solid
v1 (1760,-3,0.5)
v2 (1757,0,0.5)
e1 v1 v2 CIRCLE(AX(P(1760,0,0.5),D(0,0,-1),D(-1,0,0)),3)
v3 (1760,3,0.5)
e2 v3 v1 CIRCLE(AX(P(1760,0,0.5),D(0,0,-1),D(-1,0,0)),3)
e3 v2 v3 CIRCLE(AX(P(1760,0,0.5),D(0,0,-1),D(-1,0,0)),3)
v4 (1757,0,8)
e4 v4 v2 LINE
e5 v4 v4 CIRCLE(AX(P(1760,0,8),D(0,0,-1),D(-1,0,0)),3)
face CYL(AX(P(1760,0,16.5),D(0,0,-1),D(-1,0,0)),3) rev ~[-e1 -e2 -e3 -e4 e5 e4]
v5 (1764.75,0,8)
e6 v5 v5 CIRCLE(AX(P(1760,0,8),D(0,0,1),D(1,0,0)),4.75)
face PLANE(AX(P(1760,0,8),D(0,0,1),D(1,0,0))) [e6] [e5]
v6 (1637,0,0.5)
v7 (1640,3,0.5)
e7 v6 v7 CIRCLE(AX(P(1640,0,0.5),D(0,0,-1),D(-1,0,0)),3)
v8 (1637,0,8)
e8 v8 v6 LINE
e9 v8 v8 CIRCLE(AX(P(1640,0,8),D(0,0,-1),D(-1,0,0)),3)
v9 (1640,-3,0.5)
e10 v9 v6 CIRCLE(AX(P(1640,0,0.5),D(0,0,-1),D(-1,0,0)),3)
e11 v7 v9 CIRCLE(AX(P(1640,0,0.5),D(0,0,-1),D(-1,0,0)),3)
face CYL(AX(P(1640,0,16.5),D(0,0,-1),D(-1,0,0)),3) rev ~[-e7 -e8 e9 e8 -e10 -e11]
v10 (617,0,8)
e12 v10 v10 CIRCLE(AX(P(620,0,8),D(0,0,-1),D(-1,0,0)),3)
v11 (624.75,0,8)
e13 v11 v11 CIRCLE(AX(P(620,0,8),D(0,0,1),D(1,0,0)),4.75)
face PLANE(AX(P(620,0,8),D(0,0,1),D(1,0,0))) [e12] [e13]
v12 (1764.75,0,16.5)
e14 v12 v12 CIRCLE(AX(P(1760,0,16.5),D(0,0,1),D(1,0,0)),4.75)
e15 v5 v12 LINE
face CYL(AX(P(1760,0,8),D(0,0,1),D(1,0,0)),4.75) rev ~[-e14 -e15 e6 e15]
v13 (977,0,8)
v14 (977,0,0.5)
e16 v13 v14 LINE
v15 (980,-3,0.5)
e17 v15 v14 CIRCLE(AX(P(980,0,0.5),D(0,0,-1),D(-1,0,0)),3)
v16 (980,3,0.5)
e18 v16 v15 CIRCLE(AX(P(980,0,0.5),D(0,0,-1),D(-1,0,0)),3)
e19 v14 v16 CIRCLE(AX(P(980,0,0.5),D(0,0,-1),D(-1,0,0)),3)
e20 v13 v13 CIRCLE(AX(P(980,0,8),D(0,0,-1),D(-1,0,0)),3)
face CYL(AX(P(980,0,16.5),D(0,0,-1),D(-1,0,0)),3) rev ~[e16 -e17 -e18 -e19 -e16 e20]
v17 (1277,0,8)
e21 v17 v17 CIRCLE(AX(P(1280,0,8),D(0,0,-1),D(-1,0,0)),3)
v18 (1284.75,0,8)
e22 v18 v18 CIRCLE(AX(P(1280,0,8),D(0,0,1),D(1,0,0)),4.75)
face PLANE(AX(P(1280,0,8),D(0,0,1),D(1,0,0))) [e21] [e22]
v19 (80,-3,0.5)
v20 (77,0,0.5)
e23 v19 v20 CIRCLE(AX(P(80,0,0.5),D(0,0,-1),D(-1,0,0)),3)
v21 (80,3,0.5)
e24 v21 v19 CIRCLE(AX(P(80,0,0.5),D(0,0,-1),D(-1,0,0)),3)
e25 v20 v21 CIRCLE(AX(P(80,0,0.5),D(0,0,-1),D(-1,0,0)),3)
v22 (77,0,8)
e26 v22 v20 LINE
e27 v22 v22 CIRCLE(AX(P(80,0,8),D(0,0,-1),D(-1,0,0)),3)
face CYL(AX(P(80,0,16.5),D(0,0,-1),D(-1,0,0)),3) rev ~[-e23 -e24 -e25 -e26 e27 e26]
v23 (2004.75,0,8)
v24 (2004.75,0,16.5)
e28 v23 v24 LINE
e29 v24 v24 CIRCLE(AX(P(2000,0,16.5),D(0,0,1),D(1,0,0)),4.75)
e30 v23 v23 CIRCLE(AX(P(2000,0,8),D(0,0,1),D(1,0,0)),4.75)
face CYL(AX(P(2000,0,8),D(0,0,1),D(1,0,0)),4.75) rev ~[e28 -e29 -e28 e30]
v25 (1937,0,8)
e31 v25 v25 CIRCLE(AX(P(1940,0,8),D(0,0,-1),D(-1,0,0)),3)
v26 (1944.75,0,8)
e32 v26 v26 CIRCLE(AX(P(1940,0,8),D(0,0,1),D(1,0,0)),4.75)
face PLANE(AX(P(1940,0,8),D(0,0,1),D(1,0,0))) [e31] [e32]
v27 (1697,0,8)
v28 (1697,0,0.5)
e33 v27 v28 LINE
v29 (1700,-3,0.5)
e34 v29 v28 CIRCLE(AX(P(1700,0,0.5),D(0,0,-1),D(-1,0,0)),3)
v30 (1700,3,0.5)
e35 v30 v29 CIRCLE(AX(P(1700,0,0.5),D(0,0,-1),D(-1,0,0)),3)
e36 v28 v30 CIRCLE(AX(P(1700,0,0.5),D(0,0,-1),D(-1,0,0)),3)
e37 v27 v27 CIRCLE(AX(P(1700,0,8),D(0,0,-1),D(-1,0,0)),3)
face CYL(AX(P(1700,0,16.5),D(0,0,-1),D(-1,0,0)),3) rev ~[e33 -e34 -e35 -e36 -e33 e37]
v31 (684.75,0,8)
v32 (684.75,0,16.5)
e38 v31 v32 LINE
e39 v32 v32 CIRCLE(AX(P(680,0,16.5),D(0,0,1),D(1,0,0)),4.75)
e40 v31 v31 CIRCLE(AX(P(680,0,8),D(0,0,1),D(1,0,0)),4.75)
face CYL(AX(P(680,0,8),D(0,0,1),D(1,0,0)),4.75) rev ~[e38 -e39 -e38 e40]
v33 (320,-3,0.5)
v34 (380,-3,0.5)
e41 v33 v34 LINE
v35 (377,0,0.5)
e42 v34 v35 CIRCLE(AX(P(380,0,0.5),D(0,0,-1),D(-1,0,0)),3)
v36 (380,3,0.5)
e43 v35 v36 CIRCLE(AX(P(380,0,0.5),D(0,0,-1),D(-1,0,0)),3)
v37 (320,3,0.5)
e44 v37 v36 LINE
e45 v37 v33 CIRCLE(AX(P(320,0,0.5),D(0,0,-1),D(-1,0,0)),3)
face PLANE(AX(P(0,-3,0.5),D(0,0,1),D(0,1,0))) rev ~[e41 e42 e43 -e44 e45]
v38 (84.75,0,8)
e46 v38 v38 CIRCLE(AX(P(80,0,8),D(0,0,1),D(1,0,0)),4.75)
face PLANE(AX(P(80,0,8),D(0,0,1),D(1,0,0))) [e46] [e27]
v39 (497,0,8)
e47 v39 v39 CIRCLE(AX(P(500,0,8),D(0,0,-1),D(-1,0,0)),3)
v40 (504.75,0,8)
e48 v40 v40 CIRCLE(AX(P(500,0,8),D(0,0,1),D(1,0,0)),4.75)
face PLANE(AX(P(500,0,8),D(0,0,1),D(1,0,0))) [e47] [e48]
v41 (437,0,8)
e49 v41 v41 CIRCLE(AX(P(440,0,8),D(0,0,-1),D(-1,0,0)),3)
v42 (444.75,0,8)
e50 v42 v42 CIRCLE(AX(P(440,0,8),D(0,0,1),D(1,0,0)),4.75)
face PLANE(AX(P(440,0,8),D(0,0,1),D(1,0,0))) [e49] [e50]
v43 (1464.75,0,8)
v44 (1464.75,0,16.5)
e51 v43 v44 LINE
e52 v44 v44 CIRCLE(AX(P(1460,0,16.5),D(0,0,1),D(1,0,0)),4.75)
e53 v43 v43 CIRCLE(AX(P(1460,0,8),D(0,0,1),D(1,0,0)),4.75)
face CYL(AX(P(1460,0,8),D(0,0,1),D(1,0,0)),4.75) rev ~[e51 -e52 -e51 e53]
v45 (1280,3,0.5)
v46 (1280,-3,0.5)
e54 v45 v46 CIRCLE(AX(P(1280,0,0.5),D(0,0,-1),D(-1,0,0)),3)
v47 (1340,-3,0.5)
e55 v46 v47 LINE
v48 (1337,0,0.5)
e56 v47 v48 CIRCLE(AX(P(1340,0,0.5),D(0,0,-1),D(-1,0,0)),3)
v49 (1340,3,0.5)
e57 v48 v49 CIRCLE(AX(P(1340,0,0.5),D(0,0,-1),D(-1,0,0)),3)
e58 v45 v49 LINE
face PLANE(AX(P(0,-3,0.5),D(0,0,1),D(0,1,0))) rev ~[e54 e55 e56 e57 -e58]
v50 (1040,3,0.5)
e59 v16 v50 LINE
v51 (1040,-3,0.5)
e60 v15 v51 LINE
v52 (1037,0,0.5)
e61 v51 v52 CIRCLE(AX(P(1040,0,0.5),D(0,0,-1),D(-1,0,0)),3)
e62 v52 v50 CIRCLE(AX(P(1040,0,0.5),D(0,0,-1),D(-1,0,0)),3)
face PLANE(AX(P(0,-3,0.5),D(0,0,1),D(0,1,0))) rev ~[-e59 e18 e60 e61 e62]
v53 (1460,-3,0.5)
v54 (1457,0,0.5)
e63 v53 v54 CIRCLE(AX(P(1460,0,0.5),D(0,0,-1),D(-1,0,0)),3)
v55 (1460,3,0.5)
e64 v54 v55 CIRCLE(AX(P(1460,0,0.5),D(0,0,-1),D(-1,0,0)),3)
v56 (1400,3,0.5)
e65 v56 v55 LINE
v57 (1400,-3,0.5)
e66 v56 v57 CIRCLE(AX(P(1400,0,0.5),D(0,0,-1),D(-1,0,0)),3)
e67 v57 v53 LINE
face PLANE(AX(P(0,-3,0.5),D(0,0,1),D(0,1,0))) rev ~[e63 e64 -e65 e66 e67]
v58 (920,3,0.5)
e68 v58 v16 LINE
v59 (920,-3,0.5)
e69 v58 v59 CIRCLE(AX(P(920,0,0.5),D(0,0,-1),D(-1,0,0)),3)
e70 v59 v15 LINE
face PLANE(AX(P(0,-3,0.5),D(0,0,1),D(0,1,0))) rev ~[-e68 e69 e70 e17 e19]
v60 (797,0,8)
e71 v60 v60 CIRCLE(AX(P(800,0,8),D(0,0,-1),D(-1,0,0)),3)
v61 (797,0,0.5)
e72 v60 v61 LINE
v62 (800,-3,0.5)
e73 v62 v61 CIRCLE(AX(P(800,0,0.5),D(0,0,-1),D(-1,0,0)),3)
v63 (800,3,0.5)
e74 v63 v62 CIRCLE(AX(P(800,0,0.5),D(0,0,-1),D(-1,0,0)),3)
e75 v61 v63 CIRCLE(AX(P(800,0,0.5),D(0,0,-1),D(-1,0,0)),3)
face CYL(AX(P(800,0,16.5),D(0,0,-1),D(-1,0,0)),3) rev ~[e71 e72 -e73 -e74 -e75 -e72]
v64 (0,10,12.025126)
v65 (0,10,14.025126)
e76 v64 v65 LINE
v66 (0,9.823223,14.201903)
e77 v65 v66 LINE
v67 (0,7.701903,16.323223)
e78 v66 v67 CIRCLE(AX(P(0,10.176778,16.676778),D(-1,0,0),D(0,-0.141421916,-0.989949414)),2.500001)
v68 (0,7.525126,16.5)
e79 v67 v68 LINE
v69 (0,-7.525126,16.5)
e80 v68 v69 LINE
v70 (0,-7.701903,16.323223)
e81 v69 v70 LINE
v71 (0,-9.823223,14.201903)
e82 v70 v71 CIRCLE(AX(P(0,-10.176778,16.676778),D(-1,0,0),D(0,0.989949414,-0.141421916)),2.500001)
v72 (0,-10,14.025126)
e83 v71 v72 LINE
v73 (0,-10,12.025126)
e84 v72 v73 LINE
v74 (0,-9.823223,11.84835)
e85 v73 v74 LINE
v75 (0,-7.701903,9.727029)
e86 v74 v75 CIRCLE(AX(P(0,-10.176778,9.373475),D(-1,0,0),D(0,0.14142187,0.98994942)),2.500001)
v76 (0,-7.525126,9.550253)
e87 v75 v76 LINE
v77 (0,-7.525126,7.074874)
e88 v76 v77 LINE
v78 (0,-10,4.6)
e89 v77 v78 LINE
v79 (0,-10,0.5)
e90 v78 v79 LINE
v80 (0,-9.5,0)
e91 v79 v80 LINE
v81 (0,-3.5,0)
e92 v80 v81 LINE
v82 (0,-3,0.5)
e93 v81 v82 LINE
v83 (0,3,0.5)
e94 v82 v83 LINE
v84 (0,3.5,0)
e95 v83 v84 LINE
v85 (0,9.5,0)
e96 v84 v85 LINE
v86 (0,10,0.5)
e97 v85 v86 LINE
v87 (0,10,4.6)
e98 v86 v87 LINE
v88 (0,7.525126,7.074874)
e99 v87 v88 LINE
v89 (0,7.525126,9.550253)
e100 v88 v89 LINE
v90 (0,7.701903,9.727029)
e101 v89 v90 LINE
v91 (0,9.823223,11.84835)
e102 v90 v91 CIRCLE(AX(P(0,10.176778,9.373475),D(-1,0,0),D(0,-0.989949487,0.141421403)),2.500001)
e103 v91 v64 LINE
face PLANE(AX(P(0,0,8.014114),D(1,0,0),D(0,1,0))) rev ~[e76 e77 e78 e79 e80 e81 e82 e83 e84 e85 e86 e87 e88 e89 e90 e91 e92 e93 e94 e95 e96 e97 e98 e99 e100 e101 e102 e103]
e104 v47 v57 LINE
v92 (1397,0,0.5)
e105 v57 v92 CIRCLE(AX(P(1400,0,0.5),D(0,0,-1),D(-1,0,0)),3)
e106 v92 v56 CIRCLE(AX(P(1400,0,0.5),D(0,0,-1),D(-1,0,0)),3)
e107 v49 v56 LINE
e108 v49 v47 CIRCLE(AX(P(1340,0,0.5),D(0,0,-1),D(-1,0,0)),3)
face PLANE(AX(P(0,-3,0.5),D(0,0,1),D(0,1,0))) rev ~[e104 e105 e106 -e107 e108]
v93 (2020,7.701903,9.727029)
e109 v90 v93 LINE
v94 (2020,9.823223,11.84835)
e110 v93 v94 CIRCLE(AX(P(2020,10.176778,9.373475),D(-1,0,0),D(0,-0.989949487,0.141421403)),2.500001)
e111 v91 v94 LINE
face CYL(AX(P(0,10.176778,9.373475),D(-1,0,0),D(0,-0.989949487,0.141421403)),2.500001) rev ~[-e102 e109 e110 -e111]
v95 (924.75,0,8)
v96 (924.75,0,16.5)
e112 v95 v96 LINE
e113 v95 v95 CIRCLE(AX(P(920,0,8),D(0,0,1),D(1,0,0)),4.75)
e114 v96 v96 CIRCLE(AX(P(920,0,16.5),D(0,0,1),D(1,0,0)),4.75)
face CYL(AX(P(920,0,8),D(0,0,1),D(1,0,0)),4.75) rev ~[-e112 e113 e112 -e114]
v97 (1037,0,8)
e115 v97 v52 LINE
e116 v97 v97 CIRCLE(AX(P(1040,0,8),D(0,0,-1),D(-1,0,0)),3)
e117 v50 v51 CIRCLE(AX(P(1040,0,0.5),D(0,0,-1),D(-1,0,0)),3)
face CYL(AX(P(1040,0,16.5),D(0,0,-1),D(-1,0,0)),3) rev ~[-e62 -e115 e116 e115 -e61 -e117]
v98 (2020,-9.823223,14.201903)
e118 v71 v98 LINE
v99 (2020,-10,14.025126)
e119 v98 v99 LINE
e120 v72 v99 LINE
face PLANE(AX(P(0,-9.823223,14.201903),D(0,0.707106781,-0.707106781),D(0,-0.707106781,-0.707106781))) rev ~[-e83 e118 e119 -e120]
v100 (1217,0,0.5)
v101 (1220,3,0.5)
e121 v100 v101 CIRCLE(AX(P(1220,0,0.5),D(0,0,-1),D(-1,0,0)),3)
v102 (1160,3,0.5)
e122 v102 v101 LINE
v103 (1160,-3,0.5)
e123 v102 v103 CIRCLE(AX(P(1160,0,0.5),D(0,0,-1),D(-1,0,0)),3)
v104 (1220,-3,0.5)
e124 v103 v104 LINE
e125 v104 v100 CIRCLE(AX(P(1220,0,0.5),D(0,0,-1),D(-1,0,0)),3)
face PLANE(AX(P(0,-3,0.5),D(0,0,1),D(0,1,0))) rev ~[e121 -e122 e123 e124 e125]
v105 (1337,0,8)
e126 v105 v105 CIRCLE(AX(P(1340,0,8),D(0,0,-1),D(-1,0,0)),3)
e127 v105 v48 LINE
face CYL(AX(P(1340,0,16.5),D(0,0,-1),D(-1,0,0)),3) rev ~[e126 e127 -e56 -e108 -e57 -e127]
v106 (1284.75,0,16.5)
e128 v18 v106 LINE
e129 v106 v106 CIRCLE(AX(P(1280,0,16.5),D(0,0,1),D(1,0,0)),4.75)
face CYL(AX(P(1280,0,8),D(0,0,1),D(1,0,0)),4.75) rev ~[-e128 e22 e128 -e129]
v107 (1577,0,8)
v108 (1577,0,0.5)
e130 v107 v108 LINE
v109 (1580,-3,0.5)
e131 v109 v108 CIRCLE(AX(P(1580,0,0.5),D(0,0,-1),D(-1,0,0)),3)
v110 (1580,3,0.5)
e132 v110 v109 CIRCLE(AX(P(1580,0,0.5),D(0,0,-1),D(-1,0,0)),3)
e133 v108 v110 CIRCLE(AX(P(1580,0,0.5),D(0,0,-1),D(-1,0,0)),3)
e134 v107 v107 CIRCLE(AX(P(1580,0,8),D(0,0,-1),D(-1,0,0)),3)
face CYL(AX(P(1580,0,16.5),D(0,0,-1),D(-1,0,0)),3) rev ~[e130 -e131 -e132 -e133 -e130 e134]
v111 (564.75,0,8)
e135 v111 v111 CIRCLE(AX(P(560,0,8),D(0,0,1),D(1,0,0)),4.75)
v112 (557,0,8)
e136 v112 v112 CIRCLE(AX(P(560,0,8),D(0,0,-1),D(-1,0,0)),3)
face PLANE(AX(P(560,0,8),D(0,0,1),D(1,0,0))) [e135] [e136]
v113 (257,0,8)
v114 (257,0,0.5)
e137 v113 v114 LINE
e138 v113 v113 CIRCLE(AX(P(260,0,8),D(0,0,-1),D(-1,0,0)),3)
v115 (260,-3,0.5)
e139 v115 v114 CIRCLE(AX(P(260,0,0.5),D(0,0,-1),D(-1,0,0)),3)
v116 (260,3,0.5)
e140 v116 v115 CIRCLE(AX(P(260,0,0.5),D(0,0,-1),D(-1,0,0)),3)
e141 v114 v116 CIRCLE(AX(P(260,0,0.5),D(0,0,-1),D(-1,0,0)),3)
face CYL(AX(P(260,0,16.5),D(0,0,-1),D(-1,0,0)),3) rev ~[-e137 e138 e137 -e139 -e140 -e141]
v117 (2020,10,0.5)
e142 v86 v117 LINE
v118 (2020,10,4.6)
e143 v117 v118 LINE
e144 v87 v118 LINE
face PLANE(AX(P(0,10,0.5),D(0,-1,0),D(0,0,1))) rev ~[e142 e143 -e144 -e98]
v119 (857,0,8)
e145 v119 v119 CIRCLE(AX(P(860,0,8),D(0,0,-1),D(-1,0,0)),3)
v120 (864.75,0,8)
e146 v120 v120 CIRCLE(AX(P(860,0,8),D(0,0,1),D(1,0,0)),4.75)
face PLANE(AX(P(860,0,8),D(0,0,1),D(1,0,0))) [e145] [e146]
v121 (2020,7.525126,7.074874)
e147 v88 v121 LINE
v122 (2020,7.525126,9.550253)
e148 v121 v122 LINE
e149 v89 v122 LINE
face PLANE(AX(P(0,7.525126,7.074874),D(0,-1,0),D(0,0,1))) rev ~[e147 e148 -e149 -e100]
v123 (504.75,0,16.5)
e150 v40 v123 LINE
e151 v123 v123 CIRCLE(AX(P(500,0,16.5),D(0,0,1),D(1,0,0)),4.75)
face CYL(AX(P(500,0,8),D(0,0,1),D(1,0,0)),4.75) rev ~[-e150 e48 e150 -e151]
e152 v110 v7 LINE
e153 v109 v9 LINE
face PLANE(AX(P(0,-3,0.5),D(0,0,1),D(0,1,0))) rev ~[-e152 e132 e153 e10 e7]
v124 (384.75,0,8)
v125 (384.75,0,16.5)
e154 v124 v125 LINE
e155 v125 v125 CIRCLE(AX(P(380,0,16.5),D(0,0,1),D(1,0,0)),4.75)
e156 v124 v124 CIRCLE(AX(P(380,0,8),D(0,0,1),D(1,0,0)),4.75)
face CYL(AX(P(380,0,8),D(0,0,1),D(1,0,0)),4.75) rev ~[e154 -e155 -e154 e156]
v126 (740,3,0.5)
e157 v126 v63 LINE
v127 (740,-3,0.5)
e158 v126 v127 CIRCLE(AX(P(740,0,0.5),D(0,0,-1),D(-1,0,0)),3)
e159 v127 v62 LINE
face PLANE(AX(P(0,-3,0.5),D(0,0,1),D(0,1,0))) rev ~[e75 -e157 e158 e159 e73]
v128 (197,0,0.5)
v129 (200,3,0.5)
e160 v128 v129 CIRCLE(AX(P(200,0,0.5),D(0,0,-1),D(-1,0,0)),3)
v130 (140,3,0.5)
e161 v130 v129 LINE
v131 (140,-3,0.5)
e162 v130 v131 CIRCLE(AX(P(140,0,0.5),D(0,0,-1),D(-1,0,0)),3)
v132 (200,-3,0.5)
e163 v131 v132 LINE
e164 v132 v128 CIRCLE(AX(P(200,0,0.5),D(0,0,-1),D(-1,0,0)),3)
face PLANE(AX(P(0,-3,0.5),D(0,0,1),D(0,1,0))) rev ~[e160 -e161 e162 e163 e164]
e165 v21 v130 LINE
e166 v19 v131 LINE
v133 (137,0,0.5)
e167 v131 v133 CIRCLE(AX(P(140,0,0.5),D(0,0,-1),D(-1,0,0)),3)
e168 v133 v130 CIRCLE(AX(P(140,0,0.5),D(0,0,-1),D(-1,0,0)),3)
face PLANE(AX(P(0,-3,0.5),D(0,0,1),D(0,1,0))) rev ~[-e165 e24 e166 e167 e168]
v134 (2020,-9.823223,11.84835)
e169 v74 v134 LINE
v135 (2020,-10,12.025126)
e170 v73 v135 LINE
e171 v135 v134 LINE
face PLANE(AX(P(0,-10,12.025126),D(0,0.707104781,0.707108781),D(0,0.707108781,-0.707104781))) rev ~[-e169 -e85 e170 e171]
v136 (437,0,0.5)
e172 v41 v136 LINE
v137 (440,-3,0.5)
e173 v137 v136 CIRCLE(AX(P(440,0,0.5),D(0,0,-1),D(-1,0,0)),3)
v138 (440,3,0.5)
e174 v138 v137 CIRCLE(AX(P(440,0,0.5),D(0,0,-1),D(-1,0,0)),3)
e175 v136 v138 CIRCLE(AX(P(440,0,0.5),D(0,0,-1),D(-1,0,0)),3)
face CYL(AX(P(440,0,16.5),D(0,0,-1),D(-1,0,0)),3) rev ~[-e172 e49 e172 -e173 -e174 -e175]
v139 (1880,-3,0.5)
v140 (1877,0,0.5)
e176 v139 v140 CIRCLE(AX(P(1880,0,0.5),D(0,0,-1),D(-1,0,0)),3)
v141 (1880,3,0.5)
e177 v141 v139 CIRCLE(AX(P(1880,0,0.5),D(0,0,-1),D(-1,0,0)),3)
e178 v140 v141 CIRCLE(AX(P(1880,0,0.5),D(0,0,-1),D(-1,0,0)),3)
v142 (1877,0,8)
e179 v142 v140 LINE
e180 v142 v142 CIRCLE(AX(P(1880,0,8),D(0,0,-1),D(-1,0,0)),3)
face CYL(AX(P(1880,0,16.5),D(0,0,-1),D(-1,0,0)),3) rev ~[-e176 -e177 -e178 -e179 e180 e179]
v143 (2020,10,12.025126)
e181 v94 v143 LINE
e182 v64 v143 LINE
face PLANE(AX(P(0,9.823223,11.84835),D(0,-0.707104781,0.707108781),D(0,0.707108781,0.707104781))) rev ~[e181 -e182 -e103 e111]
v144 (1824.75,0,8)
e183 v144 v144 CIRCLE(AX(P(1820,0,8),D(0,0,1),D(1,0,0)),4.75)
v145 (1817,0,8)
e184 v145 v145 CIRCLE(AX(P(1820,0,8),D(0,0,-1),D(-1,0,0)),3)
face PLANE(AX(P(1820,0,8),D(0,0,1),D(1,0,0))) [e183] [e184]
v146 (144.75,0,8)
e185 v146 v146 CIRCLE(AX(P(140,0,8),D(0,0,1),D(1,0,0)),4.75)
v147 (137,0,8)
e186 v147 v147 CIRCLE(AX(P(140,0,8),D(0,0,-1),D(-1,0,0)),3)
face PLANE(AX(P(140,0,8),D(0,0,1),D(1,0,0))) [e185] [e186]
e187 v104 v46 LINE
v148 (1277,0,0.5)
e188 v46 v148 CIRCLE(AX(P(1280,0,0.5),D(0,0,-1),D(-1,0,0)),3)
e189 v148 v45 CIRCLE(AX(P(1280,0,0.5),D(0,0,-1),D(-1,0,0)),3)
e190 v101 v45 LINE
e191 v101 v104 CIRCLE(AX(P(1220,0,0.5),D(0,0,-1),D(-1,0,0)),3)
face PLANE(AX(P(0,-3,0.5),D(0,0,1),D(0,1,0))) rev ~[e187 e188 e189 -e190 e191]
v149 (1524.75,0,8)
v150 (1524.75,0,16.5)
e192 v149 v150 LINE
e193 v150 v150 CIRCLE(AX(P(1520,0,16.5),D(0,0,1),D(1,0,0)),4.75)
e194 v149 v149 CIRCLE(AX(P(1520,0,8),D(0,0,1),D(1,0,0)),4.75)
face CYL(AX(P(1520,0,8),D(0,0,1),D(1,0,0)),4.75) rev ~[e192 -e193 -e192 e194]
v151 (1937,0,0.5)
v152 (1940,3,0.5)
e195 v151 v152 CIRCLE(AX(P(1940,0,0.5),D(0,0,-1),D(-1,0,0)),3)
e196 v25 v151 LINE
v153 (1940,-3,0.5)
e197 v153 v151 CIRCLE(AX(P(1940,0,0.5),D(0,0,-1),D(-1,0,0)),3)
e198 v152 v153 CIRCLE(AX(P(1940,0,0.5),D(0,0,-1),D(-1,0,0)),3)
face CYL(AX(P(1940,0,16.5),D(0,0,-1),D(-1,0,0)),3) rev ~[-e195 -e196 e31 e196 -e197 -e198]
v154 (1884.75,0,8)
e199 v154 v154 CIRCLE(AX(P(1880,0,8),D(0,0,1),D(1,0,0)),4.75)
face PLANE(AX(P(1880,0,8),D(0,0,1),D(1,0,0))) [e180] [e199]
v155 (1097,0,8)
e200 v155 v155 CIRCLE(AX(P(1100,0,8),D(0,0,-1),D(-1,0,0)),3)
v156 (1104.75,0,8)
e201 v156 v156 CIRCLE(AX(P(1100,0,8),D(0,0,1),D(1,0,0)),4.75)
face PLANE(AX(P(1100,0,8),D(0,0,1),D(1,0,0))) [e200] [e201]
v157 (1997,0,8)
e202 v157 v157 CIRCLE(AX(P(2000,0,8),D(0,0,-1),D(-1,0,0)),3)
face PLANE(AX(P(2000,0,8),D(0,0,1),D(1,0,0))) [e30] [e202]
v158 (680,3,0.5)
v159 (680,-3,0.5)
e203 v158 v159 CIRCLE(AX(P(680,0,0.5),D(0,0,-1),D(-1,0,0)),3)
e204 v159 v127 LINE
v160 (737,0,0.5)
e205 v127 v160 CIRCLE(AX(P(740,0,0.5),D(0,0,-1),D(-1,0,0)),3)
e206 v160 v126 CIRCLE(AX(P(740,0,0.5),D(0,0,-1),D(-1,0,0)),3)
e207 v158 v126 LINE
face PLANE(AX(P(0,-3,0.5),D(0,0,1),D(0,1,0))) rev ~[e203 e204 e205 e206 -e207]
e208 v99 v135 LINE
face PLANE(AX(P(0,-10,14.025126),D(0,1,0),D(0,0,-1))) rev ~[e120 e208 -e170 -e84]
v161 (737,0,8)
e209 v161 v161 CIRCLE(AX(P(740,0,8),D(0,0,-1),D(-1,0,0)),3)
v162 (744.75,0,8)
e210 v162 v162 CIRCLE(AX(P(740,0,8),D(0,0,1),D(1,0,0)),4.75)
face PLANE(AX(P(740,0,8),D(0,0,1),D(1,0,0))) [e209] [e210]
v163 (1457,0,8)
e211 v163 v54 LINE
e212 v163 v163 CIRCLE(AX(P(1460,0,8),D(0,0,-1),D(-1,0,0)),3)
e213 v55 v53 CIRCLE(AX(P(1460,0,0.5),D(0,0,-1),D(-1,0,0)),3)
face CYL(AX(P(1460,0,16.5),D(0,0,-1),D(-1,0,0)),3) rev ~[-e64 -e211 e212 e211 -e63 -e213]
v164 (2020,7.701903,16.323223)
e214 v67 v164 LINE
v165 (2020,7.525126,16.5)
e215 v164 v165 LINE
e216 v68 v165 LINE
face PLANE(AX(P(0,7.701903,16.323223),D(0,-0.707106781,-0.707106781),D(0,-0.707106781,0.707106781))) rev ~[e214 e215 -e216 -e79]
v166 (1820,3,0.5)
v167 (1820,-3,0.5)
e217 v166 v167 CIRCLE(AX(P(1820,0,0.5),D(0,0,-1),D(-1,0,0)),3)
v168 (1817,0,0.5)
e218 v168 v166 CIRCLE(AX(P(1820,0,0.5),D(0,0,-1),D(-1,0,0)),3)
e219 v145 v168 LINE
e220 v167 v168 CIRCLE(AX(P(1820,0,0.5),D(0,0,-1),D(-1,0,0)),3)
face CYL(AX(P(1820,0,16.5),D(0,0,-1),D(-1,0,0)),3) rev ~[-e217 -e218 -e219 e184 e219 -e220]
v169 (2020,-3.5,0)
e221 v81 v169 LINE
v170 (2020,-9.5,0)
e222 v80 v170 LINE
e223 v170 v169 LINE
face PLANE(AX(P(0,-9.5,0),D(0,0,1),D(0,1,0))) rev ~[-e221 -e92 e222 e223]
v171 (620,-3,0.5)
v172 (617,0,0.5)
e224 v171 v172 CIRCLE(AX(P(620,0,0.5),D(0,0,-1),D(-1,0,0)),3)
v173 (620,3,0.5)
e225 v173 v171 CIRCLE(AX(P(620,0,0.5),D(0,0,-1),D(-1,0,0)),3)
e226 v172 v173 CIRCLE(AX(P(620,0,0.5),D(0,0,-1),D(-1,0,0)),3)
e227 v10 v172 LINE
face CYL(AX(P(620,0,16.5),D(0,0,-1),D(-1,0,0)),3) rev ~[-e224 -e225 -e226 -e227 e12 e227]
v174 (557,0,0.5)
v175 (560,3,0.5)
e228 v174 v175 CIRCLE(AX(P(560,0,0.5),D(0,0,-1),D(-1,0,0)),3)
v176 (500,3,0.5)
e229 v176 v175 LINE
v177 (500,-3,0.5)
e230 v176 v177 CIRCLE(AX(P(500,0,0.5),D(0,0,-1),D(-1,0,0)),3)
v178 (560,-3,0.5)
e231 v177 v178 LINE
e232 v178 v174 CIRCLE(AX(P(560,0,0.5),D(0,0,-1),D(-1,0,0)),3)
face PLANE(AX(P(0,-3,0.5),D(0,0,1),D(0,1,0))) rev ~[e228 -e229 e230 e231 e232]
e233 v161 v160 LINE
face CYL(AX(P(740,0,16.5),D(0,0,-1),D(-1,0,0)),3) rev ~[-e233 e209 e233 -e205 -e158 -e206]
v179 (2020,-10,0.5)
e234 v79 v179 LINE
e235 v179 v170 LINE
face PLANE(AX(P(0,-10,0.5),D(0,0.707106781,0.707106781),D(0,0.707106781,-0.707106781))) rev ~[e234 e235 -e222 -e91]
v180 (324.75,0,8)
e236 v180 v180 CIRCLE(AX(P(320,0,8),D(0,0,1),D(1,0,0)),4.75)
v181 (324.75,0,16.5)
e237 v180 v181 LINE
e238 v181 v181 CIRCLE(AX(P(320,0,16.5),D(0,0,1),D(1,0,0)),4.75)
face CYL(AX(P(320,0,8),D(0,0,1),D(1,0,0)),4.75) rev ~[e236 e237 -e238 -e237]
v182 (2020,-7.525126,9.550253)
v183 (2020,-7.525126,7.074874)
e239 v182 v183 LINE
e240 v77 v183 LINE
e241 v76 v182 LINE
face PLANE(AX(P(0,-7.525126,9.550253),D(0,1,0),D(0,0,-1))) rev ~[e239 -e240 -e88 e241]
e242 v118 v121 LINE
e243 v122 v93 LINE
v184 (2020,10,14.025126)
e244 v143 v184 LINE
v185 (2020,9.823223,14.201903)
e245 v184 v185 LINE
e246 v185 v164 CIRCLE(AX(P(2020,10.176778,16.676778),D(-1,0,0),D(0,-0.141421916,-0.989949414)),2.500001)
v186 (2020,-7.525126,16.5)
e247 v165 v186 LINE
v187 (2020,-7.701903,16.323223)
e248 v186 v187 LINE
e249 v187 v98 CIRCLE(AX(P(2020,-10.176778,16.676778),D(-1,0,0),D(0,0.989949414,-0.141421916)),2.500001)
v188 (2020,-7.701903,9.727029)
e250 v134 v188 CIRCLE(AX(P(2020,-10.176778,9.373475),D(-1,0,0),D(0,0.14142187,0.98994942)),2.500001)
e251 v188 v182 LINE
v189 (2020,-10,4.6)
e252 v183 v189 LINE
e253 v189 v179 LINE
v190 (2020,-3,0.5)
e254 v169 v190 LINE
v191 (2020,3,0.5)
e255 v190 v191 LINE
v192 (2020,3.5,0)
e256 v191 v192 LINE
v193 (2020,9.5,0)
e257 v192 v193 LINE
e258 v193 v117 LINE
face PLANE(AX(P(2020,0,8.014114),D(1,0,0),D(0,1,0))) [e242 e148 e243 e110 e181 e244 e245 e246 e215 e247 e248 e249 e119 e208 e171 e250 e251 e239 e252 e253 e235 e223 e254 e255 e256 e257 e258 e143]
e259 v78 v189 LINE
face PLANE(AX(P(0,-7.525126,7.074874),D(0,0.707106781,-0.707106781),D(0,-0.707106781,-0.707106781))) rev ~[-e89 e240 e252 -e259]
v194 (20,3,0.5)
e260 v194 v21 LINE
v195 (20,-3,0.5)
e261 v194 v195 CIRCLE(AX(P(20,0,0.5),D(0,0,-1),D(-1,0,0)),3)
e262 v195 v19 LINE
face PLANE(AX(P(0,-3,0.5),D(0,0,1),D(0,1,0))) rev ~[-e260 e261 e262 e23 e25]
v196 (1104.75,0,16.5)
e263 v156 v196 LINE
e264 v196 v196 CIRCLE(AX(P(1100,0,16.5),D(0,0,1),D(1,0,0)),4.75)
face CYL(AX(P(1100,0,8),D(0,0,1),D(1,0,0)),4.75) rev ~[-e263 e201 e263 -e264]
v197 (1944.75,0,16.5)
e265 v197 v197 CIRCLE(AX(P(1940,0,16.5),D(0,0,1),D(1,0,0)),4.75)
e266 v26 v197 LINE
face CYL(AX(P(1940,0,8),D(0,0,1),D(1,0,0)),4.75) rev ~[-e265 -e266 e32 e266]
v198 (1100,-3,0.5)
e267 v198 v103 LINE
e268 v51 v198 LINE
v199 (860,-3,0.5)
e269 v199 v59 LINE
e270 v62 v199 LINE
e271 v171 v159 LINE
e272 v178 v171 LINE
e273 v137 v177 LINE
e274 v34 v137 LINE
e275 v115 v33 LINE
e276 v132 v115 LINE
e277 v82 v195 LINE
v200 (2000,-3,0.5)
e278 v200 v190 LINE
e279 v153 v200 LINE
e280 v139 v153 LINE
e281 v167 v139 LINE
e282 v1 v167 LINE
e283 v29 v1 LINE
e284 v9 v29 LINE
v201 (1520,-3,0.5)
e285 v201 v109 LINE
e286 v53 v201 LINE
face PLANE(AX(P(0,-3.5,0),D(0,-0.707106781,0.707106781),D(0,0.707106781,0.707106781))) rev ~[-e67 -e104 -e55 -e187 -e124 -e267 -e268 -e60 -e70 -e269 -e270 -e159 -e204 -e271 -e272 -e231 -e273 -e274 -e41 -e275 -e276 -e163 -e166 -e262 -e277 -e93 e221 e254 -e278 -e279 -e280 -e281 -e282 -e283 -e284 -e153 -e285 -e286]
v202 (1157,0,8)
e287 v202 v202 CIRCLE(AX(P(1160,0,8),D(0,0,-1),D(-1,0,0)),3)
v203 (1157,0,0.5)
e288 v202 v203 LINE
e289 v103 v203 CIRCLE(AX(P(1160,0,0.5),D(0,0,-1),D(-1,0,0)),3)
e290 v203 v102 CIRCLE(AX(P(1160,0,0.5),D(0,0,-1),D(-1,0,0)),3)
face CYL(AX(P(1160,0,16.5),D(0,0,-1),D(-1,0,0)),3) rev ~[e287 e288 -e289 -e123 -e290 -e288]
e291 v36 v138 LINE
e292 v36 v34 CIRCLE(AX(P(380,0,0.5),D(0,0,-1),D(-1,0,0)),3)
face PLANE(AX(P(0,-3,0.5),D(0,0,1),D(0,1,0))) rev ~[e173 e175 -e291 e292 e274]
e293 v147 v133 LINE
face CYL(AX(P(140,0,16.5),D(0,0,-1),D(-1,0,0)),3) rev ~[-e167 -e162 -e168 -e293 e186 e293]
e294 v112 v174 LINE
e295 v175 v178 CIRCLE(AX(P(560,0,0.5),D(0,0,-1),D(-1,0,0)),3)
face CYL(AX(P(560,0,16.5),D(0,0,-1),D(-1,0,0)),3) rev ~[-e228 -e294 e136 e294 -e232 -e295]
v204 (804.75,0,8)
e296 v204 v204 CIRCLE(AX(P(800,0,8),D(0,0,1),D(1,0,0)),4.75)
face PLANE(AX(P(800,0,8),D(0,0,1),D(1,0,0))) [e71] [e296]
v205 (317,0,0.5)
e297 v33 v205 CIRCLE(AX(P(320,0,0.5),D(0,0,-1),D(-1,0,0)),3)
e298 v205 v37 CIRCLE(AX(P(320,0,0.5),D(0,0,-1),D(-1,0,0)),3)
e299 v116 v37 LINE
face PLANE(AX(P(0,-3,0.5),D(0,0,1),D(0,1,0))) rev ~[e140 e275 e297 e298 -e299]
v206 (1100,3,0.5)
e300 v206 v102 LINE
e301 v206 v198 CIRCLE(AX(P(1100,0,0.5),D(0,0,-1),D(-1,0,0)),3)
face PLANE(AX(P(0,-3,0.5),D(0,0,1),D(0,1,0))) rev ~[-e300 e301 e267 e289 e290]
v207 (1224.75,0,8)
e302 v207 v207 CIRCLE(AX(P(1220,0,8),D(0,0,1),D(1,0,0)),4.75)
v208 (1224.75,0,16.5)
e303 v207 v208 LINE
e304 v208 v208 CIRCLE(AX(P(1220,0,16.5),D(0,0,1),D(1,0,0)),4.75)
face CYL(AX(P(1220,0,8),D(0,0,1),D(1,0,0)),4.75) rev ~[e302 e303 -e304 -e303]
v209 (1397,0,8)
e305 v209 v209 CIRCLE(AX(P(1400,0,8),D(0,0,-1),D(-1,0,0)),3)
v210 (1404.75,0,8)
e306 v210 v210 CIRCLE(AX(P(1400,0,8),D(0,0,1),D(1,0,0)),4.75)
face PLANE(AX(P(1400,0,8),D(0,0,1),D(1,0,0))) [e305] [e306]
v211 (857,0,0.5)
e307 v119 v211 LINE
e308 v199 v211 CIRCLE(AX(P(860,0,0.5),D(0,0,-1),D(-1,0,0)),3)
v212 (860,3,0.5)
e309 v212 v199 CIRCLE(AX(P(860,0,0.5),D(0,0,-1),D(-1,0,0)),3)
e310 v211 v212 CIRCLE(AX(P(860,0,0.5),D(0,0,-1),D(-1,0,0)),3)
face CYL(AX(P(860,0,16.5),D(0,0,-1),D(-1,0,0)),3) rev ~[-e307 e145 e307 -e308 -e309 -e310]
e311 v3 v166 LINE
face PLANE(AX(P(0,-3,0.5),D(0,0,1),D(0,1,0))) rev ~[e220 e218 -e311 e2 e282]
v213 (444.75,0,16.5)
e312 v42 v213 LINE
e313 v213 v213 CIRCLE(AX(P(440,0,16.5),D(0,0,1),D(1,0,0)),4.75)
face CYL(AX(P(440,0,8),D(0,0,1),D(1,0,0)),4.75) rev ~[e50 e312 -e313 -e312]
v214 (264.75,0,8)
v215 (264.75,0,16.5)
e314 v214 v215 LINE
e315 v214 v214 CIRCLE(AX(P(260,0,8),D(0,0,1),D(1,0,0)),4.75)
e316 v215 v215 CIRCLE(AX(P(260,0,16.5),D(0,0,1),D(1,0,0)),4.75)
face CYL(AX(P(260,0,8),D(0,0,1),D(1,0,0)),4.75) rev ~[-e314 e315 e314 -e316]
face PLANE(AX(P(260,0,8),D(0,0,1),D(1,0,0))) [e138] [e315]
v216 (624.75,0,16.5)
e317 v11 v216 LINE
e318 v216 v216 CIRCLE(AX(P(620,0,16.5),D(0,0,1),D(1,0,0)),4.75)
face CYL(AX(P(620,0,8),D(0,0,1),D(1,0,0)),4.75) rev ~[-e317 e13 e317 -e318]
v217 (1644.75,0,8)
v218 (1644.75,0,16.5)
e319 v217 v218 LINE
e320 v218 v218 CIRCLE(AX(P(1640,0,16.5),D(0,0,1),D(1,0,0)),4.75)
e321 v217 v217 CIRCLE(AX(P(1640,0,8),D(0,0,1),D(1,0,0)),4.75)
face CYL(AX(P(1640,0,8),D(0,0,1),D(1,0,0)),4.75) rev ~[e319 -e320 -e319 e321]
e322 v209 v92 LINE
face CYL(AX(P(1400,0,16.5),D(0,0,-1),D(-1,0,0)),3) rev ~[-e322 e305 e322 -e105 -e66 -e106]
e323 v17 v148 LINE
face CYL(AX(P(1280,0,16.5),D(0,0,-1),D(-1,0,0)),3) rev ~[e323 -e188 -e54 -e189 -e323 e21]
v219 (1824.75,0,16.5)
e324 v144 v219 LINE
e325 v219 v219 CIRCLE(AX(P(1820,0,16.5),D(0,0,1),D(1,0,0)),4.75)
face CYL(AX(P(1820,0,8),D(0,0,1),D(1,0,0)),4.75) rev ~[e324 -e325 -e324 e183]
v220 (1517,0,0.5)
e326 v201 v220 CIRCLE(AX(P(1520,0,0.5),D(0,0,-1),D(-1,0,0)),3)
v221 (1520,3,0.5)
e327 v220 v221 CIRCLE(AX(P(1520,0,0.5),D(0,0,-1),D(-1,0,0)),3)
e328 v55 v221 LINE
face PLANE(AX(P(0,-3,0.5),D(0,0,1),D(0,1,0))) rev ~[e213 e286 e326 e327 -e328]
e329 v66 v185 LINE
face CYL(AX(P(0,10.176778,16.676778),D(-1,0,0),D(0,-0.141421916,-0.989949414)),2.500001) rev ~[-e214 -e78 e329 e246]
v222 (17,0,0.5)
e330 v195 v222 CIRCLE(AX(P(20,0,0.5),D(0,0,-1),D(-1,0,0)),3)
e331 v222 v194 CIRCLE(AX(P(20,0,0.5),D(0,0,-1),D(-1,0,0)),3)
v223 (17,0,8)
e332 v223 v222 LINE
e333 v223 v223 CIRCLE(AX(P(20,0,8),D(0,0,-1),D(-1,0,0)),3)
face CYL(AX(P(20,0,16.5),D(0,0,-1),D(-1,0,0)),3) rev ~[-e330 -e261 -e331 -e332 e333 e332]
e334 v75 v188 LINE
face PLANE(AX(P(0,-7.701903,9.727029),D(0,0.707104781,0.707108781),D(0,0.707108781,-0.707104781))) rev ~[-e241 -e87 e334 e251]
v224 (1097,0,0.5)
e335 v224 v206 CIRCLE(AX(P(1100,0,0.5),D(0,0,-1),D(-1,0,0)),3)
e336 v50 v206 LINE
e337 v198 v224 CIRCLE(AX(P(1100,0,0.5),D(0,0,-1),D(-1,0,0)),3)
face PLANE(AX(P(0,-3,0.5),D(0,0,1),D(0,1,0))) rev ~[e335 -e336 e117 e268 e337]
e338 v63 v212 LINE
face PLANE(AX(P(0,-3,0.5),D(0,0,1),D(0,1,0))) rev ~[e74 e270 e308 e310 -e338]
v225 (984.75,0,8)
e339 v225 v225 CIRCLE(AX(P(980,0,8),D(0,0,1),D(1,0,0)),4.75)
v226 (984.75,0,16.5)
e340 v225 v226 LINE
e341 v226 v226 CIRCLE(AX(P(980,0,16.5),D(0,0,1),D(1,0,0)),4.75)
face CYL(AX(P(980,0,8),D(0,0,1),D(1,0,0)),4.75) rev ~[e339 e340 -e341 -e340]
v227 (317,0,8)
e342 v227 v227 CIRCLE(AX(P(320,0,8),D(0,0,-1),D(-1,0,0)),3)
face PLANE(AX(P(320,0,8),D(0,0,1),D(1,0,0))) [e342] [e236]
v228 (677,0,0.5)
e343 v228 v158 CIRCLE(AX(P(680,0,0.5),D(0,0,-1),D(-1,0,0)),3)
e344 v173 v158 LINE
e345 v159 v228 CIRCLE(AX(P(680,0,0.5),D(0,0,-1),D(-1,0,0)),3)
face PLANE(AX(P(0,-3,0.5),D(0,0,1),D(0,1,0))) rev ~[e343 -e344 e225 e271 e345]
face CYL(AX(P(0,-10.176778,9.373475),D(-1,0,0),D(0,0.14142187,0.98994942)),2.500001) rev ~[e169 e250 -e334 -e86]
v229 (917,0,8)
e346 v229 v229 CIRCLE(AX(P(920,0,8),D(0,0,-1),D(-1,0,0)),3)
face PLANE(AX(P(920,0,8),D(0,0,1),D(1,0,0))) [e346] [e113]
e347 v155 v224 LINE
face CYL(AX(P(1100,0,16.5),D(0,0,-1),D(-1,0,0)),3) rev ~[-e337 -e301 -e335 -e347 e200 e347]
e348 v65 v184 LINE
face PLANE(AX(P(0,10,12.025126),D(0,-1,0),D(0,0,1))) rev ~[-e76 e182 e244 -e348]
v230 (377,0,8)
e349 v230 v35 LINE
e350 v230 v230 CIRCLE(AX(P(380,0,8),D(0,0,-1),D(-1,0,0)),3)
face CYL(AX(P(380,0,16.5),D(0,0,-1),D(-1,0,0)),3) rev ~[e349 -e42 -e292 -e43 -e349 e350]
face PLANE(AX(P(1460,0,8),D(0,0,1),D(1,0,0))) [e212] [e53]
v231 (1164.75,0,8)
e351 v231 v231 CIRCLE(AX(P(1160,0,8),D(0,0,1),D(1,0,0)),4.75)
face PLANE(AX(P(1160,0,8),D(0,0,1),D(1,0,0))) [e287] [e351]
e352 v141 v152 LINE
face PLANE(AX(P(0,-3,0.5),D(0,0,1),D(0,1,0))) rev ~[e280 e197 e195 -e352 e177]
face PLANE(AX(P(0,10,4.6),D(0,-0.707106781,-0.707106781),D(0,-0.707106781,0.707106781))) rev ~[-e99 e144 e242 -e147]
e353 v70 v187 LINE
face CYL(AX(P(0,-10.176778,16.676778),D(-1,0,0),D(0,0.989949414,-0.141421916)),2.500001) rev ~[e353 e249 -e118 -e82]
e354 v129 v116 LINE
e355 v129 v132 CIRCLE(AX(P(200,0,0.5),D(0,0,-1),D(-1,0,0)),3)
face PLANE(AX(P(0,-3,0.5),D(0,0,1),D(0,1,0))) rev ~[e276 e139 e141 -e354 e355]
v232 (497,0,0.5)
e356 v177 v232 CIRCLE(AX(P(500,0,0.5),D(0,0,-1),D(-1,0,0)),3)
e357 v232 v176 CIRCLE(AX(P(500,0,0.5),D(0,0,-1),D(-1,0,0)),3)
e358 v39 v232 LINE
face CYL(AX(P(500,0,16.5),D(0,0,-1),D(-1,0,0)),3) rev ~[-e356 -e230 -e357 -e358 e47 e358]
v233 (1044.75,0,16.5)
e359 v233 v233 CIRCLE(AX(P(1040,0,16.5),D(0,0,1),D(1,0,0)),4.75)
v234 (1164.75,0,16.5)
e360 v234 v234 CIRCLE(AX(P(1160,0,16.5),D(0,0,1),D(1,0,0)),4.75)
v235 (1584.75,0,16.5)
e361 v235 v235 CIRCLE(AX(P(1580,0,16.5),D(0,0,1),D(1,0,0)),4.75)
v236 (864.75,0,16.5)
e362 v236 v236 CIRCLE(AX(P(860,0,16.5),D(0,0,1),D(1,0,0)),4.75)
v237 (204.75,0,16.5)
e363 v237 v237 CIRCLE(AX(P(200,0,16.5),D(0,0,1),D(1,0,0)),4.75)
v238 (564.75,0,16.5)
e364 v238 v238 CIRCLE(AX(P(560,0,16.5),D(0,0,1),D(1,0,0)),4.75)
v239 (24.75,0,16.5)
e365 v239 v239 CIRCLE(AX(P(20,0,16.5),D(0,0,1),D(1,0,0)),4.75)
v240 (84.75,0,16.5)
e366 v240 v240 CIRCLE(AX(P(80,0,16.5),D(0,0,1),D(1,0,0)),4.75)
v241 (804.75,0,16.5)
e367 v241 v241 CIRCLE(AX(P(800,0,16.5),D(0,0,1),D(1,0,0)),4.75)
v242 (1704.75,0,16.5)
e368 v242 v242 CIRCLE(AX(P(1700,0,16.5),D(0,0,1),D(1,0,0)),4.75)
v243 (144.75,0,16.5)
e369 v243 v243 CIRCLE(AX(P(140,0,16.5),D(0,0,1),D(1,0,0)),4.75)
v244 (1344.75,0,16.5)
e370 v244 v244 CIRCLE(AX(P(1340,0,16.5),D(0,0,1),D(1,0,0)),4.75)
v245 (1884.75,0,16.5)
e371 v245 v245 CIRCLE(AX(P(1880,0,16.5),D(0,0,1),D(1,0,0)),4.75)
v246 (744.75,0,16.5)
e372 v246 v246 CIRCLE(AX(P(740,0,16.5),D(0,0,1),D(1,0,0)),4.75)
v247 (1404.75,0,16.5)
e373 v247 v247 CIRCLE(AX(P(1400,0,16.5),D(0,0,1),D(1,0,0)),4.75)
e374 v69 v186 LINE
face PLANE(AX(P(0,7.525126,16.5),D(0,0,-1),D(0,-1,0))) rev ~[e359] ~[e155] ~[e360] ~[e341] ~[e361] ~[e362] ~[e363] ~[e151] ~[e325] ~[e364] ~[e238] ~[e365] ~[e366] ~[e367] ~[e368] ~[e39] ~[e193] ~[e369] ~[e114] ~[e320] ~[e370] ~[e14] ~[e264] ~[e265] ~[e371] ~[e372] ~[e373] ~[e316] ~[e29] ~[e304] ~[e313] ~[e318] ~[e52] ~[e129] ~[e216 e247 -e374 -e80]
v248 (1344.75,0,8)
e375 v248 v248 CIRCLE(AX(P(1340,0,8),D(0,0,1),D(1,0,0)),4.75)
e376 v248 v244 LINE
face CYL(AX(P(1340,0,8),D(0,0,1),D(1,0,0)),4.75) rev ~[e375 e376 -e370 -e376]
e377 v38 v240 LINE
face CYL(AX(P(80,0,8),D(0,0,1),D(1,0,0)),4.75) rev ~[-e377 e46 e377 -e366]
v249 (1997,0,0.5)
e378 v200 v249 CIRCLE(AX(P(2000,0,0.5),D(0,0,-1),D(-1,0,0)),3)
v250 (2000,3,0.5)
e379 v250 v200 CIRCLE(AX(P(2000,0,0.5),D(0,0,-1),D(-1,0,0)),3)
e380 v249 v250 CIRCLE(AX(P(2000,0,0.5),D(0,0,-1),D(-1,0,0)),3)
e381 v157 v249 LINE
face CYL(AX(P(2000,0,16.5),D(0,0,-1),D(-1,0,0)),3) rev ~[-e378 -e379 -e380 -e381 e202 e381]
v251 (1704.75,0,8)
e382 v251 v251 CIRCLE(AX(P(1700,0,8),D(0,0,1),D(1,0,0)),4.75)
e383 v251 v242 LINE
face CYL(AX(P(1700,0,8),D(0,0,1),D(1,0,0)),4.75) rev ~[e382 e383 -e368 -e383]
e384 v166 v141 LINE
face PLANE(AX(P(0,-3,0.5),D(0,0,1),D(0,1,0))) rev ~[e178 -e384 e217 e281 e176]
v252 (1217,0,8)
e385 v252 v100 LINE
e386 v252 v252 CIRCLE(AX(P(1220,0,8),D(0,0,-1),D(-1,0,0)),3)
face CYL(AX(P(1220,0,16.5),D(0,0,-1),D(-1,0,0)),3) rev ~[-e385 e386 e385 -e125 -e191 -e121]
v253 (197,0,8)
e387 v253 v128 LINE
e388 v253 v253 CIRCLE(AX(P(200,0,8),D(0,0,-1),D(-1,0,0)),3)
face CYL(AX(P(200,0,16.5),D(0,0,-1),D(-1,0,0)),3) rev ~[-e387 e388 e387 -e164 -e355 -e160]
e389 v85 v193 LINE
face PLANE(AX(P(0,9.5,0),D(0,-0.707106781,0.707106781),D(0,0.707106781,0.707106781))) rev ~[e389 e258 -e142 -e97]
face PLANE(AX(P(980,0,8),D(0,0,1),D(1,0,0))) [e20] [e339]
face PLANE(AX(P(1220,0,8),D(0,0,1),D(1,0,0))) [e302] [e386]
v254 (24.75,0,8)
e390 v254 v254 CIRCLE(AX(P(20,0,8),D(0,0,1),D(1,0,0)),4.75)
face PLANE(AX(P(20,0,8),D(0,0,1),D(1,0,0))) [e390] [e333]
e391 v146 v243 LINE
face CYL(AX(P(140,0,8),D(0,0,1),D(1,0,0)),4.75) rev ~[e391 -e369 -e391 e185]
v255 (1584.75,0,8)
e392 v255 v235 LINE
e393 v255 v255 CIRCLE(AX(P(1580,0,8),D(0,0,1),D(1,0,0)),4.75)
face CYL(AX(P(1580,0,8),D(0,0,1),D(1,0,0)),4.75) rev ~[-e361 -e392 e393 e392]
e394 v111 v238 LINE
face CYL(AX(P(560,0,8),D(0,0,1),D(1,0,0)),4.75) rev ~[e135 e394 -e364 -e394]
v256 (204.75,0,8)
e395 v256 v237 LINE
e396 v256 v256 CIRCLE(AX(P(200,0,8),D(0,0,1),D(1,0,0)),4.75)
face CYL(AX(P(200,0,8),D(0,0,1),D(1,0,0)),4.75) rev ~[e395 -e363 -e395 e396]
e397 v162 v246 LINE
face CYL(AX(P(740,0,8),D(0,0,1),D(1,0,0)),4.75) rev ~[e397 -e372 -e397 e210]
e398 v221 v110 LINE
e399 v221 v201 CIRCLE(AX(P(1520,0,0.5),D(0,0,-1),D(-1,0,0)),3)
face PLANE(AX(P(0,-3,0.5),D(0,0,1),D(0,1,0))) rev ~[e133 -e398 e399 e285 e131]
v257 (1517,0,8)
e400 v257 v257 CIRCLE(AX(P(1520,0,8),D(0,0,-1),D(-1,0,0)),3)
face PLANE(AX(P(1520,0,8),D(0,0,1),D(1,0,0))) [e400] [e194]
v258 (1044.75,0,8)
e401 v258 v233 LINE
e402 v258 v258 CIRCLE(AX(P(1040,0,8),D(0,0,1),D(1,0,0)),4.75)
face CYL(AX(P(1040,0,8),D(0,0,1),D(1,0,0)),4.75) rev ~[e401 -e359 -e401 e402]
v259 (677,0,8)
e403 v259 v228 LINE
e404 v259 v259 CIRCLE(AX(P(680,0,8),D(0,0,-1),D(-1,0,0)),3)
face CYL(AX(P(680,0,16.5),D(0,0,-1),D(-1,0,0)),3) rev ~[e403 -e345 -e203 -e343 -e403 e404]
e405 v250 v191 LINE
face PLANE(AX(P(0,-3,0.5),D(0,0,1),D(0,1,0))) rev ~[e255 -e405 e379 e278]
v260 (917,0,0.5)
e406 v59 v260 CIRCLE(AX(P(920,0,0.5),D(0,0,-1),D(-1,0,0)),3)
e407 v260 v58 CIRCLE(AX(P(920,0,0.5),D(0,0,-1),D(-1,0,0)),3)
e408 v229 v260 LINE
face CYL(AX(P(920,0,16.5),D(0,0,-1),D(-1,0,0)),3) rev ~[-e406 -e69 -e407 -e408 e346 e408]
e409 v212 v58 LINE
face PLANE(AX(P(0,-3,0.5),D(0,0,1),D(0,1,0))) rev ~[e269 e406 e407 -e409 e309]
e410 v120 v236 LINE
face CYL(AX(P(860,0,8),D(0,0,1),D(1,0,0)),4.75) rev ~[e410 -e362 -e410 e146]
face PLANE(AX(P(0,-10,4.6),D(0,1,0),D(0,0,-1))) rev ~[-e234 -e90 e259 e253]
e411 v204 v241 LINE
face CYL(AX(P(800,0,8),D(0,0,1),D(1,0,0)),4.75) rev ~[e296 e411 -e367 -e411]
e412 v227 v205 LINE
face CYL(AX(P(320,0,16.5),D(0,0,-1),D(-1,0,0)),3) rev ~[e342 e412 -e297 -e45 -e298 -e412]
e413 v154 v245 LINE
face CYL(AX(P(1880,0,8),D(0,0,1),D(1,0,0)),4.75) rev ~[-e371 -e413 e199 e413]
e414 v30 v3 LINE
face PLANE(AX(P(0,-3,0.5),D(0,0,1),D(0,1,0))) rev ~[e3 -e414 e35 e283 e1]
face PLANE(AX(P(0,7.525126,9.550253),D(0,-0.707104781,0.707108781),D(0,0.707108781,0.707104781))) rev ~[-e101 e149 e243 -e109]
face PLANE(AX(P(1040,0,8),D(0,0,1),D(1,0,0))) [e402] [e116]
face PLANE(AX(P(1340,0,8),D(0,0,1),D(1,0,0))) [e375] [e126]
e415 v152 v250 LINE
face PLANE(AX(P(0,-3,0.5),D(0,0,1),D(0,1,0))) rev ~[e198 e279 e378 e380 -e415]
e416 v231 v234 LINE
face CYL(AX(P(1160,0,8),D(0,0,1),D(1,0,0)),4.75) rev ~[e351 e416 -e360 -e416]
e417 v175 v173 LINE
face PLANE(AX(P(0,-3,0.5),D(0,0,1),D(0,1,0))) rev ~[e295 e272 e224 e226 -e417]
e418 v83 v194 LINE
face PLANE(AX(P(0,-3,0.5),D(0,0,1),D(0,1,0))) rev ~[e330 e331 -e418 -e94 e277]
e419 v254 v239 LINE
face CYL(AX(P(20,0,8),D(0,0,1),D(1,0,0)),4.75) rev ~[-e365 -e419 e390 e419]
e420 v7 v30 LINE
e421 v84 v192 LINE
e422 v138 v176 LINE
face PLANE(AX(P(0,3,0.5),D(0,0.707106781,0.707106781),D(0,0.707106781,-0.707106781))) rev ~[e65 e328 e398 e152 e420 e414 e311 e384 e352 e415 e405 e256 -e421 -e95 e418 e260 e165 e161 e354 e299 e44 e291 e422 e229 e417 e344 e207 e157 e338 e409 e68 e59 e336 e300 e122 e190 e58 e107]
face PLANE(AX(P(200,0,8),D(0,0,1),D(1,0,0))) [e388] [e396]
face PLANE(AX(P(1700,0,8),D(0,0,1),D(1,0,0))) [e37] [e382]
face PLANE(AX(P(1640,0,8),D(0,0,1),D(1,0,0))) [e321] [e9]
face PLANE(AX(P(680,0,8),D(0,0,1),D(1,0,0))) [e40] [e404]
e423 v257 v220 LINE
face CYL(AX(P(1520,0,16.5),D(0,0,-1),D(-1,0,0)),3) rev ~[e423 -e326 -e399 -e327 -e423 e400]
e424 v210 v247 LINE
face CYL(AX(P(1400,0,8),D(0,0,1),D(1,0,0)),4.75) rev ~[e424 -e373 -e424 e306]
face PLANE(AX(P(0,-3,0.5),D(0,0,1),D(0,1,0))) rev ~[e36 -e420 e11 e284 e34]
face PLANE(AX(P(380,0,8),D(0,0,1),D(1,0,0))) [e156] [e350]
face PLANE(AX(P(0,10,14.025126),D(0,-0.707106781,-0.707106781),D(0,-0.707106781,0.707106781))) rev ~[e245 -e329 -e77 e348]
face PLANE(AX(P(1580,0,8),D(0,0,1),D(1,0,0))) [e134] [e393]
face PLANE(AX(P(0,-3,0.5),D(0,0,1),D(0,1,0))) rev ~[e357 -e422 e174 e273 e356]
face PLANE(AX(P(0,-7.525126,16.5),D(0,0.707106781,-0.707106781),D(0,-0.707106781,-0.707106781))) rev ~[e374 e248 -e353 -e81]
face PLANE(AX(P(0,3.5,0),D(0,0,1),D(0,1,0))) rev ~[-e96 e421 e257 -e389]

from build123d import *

# Parameters (mm, degrees)
F1_DEPTH       = 2020
F3_D           = 6
F3_CBORE_D     = 9.5
F3_CBORE_DEPTH = 8.5


with BuildPart() as f1:
    # F0 (on Right) → F1 (new body)
    with BuildSketch(Plane.YZ):
        with BuildLine():
            Line((-3, 0.5), (0, 0.5))
            Line((0, 0.5), (3, 0.5))
            Line((3, 0.5), (3.5, 0))
            Line((3.5, 0), (9.5, 0))
            Line((9.5, 0), (10, 0.5))
            Line((10, 0.5), (10, 4.6))
            Line((10, 4.6), (7.525126, 7.074874))
            Line((7.525126, 7.074874), (7.525126, 9.550253))
            Line((7.525126, 9.550253), (7.701903, 9.727029))
            ThreePointArc((7.701903, 9.727029), (8.40901, 11.141243), (9.823223, 11.84835))
            Line((9.823223, 11.84835), (10, 12.025126))
            Line((10, 12.025126), (10, 14.025126))
            Line((10, 14.025126), (9.823223, 14.201903))
            ThreePointArc((9.823223, 14.201903), (8.40901, 14.90901), (7.701903, 16.323223))
            Line((7.701903, 16.323223), (7.525126, 16.5))
            Line((7.525126, 16.5), (0, 16.5))
            Line((0, 16.5), (-7.525126, 16.5))
            Line((-7.525126, 16.5), (-7.701903, 16.323223))
            ThreePointArc((-7.701903, 16.323223), (-8.40901, 14.90901), (-9.823223, 14.201903))
            Line((-9.823223, 14.201903), (-10, 14.025126))
            Line((-10, 14.025126), (-10, 12.025126))
            Line((-10, 12.025126), (-9.823223, 11.84835))
            ThreePointArc((-9.823223, 11.84835), (-8.40901, 11.141243), (-7.701903, 9.727029))
            Line((-7.701903, 9.727029), (-7.525126, 9.550253))
            Line((-7.525126, 9.550253), (-7.525126, 7.074874))
            Line((-7.525126, 7.074874), (-10, 4.6))
            Line((-10, 4.6), (-10, 0.5))
            Line((-10, 0.5), (-9.5, 0))
            Line((-9.5, 0), (-3.5, 0))
            Line((-3.5, 0), (-3, 0.5))
        make_face()
    extrude(amount=F1_DEPTH)

    # F3 (through all)
    with Locations(Plane.XY.offset(16.5)):
        with Locations((20, 0), (80, 0), (140, 0), (200, 0), (260, 0), (320, 0), (380, 0), (500, 0), (440, 0), (560, 0), (620, 0), (680, 0), (740, 0), (800, 0), (860, 0), (920, 0), (980, 0), (1040, 0), (1100, 0), (1160, 0), (1220, 0), (1280, 0), (1340, 0), (1400, 0), (1460, 0), (1520, 0), (1580, 0), (1640, 0), (1700, 0), (1760, 0), (1820, 0), (1880, 0), (1940, 0), (2000, 0)):
            CounterBoreHole(F3_D / 2, F3_CBORE_D / 2, F3_CBORE_DEPTH)


solid = f1.part
